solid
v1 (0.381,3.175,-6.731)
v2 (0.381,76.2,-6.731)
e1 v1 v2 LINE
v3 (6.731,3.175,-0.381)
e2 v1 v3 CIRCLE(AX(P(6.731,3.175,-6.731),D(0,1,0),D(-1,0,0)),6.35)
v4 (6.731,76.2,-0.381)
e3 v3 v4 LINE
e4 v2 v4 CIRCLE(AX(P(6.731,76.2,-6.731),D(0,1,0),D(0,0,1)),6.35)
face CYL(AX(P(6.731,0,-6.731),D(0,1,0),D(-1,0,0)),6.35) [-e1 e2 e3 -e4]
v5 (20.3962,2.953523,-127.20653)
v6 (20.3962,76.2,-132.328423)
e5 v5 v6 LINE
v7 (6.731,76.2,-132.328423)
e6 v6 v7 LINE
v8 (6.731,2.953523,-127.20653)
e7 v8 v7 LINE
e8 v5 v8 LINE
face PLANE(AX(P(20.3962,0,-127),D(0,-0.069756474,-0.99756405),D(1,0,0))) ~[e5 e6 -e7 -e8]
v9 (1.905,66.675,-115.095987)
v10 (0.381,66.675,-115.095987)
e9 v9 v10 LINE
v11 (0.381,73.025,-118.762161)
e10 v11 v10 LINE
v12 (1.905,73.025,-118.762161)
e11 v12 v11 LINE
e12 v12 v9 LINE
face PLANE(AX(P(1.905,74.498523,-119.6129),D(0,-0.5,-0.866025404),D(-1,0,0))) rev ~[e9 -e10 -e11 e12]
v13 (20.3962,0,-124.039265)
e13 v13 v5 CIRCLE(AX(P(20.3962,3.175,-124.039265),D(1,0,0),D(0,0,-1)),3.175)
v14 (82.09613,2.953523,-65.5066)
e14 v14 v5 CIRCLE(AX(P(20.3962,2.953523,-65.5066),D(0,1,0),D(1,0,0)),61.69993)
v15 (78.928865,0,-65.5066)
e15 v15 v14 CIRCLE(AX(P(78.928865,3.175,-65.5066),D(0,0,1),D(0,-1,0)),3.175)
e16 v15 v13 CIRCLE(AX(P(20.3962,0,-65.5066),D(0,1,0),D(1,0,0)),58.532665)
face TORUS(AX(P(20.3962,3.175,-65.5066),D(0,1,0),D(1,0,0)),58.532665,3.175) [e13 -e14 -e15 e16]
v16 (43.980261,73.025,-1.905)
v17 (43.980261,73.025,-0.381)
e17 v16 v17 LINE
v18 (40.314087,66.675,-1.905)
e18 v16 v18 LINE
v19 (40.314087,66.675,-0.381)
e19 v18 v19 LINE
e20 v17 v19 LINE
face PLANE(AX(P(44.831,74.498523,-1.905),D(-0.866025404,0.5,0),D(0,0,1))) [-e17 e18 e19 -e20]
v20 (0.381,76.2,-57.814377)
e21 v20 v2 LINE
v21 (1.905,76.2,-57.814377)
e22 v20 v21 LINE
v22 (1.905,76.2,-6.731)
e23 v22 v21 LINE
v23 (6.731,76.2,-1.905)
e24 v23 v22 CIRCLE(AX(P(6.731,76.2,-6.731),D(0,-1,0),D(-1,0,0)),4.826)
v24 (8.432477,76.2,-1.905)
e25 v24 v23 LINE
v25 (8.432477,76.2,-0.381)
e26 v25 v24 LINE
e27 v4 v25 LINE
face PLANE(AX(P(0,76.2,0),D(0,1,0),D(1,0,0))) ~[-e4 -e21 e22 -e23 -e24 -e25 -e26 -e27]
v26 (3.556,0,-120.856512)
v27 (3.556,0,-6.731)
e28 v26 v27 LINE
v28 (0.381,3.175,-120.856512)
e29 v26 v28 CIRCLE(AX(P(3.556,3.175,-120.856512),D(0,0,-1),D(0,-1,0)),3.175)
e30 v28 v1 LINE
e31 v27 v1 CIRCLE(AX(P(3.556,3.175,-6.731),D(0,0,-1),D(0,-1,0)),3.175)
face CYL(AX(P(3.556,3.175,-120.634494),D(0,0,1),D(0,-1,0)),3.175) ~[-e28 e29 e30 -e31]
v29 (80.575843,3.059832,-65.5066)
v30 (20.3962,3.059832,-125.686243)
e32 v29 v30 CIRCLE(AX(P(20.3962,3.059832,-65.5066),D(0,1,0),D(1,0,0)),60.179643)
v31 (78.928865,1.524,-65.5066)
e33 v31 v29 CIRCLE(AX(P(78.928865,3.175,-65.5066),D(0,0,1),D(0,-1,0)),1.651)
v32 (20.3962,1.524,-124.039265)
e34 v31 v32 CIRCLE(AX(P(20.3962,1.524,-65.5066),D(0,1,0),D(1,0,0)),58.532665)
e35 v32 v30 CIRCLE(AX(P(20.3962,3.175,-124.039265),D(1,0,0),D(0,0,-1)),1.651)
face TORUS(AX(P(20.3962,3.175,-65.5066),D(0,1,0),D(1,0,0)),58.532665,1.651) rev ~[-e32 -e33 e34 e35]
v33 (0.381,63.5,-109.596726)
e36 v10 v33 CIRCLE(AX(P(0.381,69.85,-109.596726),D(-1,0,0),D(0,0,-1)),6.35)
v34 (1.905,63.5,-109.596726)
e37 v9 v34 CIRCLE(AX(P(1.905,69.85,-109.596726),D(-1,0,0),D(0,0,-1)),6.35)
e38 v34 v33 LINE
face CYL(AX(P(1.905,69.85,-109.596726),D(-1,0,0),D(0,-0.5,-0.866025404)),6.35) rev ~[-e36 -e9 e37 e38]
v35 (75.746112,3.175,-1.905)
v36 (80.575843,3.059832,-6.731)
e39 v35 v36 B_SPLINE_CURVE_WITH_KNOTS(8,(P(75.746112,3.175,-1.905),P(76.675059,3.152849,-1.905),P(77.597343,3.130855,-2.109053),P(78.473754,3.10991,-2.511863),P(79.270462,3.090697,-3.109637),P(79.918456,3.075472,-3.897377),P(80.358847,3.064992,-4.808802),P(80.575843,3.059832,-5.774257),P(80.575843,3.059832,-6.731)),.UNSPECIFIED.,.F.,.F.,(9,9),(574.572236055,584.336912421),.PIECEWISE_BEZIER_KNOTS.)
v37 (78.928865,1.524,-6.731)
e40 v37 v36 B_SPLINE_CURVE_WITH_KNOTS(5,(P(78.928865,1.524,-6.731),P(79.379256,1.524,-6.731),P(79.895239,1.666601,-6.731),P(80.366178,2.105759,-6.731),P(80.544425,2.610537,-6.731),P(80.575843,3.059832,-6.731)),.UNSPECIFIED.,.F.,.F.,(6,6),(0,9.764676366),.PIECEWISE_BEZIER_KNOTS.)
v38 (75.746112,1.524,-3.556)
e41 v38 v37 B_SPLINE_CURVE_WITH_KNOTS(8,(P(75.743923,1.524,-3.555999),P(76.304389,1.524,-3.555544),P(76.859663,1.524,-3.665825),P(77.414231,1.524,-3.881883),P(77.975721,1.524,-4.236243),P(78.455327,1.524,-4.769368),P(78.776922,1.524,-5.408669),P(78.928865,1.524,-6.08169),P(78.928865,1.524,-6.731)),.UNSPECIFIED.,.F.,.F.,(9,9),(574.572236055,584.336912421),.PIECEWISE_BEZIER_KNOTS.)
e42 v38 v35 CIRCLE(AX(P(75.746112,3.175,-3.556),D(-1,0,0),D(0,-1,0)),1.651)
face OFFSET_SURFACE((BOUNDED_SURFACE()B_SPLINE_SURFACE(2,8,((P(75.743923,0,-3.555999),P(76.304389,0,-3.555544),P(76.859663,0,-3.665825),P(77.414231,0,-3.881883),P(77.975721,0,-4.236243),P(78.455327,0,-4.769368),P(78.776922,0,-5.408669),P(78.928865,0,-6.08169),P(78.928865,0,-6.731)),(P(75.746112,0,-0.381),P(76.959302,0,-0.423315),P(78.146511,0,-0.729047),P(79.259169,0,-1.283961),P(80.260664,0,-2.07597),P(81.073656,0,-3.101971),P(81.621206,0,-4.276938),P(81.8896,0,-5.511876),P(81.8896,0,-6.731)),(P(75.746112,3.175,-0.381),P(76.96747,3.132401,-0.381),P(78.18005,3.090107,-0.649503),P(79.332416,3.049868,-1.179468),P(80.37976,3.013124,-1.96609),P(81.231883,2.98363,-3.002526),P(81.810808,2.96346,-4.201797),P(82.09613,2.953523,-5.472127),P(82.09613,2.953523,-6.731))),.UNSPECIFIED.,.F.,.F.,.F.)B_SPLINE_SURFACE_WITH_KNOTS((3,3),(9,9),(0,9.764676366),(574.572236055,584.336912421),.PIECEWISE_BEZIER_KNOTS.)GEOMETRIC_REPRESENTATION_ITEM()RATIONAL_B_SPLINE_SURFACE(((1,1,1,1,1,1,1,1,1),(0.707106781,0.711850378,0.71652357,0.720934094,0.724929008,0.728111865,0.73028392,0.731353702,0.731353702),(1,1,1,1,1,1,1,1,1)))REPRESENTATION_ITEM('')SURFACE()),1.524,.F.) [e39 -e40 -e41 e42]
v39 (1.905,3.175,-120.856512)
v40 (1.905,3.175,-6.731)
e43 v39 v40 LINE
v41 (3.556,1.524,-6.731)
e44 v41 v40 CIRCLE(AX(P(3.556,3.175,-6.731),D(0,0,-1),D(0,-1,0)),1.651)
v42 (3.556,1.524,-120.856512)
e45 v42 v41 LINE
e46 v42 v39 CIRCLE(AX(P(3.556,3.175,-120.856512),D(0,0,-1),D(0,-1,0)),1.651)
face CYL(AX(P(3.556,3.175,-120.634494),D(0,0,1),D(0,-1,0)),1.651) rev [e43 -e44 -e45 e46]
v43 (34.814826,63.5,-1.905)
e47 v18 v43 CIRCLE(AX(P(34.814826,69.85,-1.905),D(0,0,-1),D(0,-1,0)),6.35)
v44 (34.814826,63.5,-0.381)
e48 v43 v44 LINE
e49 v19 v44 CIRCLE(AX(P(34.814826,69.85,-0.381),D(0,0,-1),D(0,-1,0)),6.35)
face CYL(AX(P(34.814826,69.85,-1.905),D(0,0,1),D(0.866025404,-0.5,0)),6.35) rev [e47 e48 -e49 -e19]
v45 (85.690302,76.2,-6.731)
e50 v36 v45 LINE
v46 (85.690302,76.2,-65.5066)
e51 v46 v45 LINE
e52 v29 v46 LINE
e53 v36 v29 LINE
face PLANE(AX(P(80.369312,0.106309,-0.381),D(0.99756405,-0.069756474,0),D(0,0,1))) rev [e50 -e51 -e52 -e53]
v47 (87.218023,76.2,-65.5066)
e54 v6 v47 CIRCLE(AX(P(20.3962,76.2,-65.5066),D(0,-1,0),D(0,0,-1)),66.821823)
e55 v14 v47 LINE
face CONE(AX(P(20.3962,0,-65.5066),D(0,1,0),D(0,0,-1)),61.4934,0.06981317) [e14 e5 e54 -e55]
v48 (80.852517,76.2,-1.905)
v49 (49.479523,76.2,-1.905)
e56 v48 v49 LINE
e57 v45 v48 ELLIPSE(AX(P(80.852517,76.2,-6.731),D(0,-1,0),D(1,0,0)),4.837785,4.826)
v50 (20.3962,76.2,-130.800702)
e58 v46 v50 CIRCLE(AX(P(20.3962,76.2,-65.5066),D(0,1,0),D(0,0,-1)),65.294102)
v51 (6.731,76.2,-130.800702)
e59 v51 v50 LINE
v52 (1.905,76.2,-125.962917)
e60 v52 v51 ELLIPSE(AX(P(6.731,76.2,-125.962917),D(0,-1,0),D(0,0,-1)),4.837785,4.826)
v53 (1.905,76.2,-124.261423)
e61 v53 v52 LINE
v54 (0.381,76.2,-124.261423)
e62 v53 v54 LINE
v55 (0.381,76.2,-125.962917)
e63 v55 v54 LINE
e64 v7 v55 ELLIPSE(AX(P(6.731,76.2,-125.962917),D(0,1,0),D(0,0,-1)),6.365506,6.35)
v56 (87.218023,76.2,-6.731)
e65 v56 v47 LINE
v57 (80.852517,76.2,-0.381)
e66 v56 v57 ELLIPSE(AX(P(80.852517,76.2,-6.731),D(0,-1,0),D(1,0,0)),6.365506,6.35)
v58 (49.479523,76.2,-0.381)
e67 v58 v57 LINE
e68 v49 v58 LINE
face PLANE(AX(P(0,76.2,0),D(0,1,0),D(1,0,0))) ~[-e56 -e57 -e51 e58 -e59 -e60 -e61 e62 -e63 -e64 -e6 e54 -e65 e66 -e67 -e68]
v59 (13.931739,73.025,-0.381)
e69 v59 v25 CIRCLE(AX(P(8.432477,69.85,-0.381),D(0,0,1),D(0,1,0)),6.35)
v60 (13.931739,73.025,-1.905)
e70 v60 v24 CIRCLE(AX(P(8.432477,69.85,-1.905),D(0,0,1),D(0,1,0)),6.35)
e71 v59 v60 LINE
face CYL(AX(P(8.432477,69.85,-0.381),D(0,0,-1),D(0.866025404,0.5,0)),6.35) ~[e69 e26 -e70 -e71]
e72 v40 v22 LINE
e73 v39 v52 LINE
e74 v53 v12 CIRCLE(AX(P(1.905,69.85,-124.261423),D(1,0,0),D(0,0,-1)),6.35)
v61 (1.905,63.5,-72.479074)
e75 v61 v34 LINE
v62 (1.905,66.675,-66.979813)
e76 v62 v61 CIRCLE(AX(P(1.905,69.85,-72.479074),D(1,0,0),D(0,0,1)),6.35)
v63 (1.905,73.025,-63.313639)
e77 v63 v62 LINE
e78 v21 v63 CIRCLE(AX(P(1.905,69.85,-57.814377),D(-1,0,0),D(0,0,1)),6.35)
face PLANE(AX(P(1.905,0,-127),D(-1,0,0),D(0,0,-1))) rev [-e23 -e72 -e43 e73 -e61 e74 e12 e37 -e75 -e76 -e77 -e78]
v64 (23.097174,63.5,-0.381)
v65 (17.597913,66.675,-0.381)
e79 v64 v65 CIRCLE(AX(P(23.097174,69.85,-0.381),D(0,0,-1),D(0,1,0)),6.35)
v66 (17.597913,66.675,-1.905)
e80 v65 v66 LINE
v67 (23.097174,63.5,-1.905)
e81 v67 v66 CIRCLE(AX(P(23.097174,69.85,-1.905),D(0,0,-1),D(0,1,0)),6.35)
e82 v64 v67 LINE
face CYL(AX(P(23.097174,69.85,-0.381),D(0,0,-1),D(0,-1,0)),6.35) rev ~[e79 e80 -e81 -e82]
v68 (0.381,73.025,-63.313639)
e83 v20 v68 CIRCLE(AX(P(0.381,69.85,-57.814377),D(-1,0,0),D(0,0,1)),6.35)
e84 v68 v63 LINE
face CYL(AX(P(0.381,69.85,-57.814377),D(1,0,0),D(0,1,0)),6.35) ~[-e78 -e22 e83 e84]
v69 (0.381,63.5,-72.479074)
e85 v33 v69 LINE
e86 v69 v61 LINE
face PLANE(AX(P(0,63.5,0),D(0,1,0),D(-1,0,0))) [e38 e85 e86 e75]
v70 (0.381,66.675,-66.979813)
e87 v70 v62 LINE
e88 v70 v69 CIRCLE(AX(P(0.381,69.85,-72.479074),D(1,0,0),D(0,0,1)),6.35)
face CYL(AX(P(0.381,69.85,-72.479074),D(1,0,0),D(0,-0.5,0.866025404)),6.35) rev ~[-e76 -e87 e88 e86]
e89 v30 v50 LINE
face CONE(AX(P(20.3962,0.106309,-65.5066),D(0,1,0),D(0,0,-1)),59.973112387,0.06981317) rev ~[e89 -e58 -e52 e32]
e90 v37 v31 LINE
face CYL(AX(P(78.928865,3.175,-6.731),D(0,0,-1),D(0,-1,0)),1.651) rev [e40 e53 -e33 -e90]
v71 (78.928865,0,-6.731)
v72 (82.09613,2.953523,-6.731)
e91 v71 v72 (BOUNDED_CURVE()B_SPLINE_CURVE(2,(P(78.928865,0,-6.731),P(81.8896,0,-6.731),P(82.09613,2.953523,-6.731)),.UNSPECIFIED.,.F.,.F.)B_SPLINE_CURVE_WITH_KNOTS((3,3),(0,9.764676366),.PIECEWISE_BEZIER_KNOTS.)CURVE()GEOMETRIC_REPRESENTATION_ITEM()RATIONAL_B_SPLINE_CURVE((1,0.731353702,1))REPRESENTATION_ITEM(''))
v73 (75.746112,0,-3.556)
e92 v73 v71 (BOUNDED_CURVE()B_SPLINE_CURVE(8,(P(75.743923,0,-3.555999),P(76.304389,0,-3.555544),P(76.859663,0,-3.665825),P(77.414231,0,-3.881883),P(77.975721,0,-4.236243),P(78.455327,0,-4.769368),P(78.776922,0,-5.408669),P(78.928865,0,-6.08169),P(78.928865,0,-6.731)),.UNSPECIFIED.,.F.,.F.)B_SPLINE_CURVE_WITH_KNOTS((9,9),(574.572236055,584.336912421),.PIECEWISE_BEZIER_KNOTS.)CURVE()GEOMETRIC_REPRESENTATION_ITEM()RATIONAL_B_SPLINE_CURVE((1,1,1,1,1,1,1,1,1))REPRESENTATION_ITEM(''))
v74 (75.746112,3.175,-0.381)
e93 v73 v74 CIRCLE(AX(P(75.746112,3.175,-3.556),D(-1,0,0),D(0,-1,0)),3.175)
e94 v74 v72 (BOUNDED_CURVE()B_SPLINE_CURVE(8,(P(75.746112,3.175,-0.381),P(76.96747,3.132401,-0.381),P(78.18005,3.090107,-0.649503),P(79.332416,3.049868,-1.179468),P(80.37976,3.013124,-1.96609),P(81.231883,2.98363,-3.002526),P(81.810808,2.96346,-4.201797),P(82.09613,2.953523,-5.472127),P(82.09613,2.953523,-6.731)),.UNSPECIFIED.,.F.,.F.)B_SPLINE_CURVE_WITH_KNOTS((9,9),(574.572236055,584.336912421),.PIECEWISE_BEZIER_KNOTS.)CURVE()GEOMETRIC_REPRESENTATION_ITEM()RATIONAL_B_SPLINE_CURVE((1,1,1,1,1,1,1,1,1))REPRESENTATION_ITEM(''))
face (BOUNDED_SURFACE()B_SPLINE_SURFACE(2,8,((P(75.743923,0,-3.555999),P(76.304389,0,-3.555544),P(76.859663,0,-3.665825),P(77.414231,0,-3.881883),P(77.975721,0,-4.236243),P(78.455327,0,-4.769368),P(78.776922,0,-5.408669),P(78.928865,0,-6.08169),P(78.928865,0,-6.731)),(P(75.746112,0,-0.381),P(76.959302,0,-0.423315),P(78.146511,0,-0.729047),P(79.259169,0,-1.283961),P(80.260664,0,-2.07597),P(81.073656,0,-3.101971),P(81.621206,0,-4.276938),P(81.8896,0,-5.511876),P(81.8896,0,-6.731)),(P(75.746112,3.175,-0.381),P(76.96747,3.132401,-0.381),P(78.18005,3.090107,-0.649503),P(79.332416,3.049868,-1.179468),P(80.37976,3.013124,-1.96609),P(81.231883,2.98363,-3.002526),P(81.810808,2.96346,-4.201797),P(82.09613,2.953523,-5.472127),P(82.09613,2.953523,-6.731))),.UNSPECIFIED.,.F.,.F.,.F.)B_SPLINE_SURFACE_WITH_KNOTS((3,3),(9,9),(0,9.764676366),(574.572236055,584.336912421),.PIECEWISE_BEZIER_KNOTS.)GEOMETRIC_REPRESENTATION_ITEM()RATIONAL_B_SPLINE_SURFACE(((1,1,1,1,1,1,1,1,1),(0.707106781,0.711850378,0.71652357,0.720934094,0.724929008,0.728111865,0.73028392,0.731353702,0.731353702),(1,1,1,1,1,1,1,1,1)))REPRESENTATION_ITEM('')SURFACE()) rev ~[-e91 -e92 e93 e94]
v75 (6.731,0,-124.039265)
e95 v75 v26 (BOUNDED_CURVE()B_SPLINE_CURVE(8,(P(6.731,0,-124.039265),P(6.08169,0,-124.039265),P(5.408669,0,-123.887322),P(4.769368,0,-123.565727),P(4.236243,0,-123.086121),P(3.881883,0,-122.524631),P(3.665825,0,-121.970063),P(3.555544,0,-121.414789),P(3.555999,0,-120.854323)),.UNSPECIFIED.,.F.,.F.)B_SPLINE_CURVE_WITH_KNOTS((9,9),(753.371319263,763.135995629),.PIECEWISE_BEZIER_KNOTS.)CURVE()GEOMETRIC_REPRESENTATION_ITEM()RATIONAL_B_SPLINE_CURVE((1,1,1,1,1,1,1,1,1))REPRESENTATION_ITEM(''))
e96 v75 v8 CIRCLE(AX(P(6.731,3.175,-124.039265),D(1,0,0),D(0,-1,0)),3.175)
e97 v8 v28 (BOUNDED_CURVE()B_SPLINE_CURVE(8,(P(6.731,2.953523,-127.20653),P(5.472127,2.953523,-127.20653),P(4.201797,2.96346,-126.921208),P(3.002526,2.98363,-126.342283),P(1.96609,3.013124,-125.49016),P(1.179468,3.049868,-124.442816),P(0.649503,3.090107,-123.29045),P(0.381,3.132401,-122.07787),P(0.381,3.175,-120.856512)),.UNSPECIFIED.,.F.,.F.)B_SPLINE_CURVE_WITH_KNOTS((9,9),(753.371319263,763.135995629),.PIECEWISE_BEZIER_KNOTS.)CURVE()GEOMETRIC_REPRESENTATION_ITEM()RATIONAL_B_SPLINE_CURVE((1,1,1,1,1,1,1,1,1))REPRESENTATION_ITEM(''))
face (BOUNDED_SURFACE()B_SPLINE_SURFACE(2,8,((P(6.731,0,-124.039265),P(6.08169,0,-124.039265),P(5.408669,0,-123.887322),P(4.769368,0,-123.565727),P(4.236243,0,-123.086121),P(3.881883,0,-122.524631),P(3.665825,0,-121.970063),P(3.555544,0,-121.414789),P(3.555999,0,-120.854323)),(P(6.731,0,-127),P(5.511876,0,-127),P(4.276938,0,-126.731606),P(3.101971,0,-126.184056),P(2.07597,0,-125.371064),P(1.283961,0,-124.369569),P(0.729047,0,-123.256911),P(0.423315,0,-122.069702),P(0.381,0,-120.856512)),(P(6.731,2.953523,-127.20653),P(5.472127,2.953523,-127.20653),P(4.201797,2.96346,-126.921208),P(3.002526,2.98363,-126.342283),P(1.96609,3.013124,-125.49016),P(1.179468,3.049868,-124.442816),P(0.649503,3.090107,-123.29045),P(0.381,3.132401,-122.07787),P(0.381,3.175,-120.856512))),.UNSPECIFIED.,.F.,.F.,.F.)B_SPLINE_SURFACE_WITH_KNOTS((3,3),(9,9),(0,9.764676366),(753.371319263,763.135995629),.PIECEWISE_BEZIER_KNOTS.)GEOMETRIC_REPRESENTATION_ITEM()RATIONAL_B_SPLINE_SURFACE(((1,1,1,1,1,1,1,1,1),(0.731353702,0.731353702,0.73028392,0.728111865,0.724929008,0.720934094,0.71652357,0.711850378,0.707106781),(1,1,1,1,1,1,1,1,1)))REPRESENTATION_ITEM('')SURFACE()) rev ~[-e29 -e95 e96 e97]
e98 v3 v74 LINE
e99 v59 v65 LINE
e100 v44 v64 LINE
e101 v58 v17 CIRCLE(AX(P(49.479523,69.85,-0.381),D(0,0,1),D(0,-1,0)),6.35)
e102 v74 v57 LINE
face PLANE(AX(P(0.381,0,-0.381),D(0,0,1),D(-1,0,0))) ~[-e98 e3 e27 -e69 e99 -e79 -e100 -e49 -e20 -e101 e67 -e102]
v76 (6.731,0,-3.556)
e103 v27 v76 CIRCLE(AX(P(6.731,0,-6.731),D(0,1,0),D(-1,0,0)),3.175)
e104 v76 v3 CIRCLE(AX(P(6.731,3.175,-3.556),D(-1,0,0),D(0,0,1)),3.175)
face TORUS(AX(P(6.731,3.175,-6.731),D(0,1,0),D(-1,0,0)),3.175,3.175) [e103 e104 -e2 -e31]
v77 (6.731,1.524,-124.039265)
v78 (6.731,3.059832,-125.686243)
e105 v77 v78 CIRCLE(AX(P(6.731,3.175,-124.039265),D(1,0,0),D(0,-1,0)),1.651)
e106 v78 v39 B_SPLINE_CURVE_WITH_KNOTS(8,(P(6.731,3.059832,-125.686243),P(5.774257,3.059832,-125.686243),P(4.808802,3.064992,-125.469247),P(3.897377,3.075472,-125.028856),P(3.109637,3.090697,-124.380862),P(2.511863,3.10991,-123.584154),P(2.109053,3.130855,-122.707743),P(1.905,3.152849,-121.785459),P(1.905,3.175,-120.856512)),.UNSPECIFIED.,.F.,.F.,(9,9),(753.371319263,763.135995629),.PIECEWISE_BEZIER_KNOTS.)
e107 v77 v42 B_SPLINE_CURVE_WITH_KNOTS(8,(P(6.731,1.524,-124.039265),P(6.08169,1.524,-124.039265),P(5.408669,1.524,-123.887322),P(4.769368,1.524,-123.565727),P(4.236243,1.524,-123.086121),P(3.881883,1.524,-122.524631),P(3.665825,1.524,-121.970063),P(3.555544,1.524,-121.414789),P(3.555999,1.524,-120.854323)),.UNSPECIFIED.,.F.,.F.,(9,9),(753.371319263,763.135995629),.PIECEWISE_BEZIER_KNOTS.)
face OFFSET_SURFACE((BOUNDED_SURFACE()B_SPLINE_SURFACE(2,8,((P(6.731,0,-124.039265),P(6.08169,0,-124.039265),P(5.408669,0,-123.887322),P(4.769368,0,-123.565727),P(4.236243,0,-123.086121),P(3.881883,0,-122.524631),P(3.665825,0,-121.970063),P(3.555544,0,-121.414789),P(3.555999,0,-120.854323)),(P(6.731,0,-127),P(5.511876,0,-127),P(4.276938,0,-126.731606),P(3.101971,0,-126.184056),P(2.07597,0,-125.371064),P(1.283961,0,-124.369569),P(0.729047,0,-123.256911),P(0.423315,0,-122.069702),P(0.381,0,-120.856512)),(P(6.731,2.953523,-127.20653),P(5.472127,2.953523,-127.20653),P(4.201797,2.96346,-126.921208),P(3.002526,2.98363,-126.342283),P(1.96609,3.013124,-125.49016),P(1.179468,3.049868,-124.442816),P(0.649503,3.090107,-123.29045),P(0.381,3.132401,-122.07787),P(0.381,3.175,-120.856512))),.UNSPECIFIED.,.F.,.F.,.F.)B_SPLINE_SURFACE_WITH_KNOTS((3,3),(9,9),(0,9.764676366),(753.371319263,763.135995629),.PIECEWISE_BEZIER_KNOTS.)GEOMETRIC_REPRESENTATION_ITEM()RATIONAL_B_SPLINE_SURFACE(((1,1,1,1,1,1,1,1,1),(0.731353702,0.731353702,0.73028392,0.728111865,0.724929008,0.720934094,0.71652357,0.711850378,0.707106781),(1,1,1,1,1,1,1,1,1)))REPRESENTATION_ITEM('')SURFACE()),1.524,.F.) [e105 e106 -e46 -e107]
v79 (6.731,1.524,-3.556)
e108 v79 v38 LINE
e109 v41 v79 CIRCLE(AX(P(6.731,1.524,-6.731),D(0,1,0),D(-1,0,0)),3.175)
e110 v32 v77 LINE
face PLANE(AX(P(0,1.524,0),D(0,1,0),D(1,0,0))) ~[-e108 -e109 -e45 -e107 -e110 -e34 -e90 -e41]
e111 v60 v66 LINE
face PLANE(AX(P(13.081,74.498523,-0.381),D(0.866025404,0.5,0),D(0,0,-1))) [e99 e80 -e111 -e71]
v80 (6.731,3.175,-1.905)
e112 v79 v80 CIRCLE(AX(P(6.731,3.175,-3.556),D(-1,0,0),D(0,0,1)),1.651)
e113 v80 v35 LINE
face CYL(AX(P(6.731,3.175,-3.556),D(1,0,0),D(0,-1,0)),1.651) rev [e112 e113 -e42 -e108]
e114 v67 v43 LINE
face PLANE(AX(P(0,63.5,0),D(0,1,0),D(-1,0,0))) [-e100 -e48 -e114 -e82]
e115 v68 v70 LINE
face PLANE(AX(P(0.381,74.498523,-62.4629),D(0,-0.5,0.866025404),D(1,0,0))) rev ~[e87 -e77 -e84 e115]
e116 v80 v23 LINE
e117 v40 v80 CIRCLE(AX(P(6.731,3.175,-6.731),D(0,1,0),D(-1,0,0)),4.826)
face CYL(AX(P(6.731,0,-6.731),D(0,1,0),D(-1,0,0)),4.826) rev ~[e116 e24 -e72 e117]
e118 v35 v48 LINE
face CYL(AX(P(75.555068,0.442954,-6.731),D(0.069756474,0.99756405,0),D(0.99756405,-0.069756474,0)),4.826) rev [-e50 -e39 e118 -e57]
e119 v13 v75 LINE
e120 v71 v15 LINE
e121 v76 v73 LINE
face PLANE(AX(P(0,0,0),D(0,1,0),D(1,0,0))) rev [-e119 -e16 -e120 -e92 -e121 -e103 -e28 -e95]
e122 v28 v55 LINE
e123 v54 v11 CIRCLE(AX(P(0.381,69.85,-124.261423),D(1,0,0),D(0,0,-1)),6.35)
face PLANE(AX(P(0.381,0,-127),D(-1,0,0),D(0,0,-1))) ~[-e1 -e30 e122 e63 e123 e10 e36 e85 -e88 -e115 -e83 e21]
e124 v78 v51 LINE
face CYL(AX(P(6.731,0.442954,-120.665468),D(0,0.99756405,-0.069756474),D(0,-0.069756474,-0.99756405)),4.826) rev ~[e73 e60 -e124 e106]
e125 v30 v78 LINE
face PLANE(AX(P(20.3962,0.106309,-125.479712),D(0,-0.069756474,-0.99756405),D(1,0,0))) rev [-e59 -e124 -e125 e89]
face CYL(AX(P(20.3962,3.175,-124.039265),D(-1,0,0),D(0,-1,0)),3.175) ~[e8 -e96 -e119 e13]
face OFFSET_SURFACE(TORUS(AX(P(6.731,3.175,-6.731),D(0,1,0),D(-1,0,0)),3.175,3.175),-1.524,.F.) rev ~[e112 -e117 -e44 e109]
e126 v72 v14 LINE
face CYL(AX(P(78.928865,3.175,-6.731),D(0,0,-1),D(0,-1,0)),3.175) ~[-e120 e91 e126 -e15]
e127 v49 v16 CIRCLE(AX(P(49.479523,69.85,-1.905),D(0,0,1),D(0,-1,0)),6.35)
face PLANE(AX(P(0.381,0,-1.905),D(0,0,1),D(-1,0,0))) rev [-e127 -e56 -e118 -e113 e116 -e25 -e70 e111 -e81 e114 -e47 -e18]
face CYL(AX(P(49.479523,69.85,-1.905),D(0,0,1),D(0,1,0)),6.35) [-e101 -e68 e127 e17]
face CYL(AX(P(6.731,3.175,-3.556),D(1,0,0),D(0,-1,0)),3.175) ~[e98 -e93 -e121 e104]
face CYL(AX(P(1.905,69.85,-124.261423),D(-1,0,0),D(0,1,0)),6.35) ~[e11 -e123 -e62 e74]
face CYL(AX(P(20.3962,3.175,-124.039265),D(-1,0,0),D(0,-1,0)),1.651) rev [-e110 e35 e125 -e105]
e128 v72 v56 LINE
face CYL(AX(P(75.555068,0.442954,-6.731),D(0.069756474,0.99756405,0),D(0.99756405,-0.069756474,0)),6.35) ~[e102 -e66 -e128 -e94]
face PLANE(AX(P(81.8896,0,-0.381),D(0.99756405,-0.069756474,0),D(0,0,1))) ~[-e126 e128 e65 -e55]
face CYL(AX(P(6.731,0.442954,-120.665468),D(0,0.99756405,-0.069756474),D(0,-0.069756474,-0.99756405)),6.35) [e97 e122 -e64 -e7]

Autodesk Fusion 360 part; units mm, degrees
sketch "Sketch1" plane through (0, 0, 0) normal (0, 1, 0) x (1, 0, 0)
  line L0 (0, 0) -> (-82.2706, 0)
  line L1 (-82.2706, 0) -> (-82.2706, 65.5066)
  line L2 (-20.3962, 127.381) -> (0, 127.381)
  line L3 (0, 127.381) -> (0, 0)
  arc A0 (-20.3962, 127.381) -> (-82.2706, 65.5066) centre (-20.3962, 65.5066) ccw
  line L4 (-81.8896, 0.381) -> (-81.8896, 65.5066)
  arc A1 (-20.3962, 127) -> (-81.8896, 65.5066) centre (-20.3962, 65.5066) ccw
  line L5 (-20.3962, 127) -> (-0.381, 127)
  line L6 (-0.381, 127) -> (-0.381, 0.381)
  line L7 (-0.381, 0.381) -> (-81.8896, 0.381)
  dimension "d1" = 82.2706
  dimension "d2" = 127.381
  dimension "d3" = 61.8744
  dimension "d27" = -0.381
extrude "Extrude1" add sketch "Sketch1" along normal blind 76.2 contours L4 A1 L5 L6 L7 makes body 1
draft "Draft1" angle -4 neutral plane through (0, 0, 0) pull (0, 1, 0) 3 faces at (-81.8896, 25.4, -22.0895) (-81.8199, 50.8, -68.4326) (-13.7245, 25.4, -127) on bodies 1
fillet "Fillet1" radius 6.35 3 edges at (-0.381, 38.1, -129.6642) (-0.381, 38.1, -0.381) (-84.5538, 38.1, -0.381) on bodies 1
fillet "Fillet2" radius 3.175 8 edges at (-0.381, 0, -63.6827) (-2.2409, 0, -125.1356) (-13.5636, 0, -127) (-63.8786, 0, -108.989) (-81.8896, 0, -36.1188) (-80.0252, 0, -2.2409) (-41.1275, 0, -0.381) (-2.2409, 0, -2.2409) on bodies 1
shell "Shell1" thickness 1.524 removed faces 1 at (-28.4244, 76.2, -72.3421) on bodies 1
mirror "Mirror1" about plane through (0, 0, 0) normal (1, 0, 0) of bodies 1 makes body 2
delete_body "RemoveBody1" bodies 1
sketch "Sketch2" plane through (0, 76.2, 0) normal (0, 1, 0) x (-1, 0, 0)
  line L0 (-19.431, -1.905) -> (-38.481, -1.905)
  line L1 (-38.481, -1.905) -> (-38.481, -0.381)
  line L2 (-38.481, -0.381) -> (-19.431, -0.381)
  line L3 (-19.431, -0.381) -> (-19.431, -1.905)
  line L4 (-0.381, -68.8129) -> (-1.905, -68.8129)
  line L5 (-1.905, -68.8129) -> (-1.905, -113.2629)
  line L6 (-1.905, -113.2629) -> (-0.381, -113.2629)
  line L7 (-0.381, -113.2629) -> (-0.381, -68.8129)
  line L8 (-0.381, -6.731) -> (-0.381, -125.9629)
  line L9 (-1.905, -125.9629) -> (-1.905, -6.731)
  line L10 (-6.731, -1.905) -> (-80.8525, -1.905)
  line L11 (-80.8525, -0.381) -> (-6.731, -0.381)
  dimension "d17" = 19.05
  dimension "d18" = 44.45
  dimension "d32" = 12.7
  dimension "d33" = 12.7
extrude "Extrude2" cut sketch "Sketch2" against normal blind 12.7 bodies 2
draft "Draft2" angle 30 neutral plane through (0, 63.5, 0) pull (0, 1, 0) 4 faces at (38.481, 67.7333, -1.397) (1.397, 67.7333, -113.2629) (0.889, 67.7333, -68.8129) (19.431, 67.7333, -0.889) on bodies 2
fillet "Fillet3" radius 6.35 8 edges at (1.143, 76.2, -120.5953) (1.143, 63.5, -113.2629) (1.143, 76.2, -61.4806) (1.143, 63.5, -68.8129) (12.0987, 76.2, -1.143) (19.431, 63.5, -1.143) (38.481, 63.5, -1.143) (45.8133, 76.2, -1.143) on bodies 2
